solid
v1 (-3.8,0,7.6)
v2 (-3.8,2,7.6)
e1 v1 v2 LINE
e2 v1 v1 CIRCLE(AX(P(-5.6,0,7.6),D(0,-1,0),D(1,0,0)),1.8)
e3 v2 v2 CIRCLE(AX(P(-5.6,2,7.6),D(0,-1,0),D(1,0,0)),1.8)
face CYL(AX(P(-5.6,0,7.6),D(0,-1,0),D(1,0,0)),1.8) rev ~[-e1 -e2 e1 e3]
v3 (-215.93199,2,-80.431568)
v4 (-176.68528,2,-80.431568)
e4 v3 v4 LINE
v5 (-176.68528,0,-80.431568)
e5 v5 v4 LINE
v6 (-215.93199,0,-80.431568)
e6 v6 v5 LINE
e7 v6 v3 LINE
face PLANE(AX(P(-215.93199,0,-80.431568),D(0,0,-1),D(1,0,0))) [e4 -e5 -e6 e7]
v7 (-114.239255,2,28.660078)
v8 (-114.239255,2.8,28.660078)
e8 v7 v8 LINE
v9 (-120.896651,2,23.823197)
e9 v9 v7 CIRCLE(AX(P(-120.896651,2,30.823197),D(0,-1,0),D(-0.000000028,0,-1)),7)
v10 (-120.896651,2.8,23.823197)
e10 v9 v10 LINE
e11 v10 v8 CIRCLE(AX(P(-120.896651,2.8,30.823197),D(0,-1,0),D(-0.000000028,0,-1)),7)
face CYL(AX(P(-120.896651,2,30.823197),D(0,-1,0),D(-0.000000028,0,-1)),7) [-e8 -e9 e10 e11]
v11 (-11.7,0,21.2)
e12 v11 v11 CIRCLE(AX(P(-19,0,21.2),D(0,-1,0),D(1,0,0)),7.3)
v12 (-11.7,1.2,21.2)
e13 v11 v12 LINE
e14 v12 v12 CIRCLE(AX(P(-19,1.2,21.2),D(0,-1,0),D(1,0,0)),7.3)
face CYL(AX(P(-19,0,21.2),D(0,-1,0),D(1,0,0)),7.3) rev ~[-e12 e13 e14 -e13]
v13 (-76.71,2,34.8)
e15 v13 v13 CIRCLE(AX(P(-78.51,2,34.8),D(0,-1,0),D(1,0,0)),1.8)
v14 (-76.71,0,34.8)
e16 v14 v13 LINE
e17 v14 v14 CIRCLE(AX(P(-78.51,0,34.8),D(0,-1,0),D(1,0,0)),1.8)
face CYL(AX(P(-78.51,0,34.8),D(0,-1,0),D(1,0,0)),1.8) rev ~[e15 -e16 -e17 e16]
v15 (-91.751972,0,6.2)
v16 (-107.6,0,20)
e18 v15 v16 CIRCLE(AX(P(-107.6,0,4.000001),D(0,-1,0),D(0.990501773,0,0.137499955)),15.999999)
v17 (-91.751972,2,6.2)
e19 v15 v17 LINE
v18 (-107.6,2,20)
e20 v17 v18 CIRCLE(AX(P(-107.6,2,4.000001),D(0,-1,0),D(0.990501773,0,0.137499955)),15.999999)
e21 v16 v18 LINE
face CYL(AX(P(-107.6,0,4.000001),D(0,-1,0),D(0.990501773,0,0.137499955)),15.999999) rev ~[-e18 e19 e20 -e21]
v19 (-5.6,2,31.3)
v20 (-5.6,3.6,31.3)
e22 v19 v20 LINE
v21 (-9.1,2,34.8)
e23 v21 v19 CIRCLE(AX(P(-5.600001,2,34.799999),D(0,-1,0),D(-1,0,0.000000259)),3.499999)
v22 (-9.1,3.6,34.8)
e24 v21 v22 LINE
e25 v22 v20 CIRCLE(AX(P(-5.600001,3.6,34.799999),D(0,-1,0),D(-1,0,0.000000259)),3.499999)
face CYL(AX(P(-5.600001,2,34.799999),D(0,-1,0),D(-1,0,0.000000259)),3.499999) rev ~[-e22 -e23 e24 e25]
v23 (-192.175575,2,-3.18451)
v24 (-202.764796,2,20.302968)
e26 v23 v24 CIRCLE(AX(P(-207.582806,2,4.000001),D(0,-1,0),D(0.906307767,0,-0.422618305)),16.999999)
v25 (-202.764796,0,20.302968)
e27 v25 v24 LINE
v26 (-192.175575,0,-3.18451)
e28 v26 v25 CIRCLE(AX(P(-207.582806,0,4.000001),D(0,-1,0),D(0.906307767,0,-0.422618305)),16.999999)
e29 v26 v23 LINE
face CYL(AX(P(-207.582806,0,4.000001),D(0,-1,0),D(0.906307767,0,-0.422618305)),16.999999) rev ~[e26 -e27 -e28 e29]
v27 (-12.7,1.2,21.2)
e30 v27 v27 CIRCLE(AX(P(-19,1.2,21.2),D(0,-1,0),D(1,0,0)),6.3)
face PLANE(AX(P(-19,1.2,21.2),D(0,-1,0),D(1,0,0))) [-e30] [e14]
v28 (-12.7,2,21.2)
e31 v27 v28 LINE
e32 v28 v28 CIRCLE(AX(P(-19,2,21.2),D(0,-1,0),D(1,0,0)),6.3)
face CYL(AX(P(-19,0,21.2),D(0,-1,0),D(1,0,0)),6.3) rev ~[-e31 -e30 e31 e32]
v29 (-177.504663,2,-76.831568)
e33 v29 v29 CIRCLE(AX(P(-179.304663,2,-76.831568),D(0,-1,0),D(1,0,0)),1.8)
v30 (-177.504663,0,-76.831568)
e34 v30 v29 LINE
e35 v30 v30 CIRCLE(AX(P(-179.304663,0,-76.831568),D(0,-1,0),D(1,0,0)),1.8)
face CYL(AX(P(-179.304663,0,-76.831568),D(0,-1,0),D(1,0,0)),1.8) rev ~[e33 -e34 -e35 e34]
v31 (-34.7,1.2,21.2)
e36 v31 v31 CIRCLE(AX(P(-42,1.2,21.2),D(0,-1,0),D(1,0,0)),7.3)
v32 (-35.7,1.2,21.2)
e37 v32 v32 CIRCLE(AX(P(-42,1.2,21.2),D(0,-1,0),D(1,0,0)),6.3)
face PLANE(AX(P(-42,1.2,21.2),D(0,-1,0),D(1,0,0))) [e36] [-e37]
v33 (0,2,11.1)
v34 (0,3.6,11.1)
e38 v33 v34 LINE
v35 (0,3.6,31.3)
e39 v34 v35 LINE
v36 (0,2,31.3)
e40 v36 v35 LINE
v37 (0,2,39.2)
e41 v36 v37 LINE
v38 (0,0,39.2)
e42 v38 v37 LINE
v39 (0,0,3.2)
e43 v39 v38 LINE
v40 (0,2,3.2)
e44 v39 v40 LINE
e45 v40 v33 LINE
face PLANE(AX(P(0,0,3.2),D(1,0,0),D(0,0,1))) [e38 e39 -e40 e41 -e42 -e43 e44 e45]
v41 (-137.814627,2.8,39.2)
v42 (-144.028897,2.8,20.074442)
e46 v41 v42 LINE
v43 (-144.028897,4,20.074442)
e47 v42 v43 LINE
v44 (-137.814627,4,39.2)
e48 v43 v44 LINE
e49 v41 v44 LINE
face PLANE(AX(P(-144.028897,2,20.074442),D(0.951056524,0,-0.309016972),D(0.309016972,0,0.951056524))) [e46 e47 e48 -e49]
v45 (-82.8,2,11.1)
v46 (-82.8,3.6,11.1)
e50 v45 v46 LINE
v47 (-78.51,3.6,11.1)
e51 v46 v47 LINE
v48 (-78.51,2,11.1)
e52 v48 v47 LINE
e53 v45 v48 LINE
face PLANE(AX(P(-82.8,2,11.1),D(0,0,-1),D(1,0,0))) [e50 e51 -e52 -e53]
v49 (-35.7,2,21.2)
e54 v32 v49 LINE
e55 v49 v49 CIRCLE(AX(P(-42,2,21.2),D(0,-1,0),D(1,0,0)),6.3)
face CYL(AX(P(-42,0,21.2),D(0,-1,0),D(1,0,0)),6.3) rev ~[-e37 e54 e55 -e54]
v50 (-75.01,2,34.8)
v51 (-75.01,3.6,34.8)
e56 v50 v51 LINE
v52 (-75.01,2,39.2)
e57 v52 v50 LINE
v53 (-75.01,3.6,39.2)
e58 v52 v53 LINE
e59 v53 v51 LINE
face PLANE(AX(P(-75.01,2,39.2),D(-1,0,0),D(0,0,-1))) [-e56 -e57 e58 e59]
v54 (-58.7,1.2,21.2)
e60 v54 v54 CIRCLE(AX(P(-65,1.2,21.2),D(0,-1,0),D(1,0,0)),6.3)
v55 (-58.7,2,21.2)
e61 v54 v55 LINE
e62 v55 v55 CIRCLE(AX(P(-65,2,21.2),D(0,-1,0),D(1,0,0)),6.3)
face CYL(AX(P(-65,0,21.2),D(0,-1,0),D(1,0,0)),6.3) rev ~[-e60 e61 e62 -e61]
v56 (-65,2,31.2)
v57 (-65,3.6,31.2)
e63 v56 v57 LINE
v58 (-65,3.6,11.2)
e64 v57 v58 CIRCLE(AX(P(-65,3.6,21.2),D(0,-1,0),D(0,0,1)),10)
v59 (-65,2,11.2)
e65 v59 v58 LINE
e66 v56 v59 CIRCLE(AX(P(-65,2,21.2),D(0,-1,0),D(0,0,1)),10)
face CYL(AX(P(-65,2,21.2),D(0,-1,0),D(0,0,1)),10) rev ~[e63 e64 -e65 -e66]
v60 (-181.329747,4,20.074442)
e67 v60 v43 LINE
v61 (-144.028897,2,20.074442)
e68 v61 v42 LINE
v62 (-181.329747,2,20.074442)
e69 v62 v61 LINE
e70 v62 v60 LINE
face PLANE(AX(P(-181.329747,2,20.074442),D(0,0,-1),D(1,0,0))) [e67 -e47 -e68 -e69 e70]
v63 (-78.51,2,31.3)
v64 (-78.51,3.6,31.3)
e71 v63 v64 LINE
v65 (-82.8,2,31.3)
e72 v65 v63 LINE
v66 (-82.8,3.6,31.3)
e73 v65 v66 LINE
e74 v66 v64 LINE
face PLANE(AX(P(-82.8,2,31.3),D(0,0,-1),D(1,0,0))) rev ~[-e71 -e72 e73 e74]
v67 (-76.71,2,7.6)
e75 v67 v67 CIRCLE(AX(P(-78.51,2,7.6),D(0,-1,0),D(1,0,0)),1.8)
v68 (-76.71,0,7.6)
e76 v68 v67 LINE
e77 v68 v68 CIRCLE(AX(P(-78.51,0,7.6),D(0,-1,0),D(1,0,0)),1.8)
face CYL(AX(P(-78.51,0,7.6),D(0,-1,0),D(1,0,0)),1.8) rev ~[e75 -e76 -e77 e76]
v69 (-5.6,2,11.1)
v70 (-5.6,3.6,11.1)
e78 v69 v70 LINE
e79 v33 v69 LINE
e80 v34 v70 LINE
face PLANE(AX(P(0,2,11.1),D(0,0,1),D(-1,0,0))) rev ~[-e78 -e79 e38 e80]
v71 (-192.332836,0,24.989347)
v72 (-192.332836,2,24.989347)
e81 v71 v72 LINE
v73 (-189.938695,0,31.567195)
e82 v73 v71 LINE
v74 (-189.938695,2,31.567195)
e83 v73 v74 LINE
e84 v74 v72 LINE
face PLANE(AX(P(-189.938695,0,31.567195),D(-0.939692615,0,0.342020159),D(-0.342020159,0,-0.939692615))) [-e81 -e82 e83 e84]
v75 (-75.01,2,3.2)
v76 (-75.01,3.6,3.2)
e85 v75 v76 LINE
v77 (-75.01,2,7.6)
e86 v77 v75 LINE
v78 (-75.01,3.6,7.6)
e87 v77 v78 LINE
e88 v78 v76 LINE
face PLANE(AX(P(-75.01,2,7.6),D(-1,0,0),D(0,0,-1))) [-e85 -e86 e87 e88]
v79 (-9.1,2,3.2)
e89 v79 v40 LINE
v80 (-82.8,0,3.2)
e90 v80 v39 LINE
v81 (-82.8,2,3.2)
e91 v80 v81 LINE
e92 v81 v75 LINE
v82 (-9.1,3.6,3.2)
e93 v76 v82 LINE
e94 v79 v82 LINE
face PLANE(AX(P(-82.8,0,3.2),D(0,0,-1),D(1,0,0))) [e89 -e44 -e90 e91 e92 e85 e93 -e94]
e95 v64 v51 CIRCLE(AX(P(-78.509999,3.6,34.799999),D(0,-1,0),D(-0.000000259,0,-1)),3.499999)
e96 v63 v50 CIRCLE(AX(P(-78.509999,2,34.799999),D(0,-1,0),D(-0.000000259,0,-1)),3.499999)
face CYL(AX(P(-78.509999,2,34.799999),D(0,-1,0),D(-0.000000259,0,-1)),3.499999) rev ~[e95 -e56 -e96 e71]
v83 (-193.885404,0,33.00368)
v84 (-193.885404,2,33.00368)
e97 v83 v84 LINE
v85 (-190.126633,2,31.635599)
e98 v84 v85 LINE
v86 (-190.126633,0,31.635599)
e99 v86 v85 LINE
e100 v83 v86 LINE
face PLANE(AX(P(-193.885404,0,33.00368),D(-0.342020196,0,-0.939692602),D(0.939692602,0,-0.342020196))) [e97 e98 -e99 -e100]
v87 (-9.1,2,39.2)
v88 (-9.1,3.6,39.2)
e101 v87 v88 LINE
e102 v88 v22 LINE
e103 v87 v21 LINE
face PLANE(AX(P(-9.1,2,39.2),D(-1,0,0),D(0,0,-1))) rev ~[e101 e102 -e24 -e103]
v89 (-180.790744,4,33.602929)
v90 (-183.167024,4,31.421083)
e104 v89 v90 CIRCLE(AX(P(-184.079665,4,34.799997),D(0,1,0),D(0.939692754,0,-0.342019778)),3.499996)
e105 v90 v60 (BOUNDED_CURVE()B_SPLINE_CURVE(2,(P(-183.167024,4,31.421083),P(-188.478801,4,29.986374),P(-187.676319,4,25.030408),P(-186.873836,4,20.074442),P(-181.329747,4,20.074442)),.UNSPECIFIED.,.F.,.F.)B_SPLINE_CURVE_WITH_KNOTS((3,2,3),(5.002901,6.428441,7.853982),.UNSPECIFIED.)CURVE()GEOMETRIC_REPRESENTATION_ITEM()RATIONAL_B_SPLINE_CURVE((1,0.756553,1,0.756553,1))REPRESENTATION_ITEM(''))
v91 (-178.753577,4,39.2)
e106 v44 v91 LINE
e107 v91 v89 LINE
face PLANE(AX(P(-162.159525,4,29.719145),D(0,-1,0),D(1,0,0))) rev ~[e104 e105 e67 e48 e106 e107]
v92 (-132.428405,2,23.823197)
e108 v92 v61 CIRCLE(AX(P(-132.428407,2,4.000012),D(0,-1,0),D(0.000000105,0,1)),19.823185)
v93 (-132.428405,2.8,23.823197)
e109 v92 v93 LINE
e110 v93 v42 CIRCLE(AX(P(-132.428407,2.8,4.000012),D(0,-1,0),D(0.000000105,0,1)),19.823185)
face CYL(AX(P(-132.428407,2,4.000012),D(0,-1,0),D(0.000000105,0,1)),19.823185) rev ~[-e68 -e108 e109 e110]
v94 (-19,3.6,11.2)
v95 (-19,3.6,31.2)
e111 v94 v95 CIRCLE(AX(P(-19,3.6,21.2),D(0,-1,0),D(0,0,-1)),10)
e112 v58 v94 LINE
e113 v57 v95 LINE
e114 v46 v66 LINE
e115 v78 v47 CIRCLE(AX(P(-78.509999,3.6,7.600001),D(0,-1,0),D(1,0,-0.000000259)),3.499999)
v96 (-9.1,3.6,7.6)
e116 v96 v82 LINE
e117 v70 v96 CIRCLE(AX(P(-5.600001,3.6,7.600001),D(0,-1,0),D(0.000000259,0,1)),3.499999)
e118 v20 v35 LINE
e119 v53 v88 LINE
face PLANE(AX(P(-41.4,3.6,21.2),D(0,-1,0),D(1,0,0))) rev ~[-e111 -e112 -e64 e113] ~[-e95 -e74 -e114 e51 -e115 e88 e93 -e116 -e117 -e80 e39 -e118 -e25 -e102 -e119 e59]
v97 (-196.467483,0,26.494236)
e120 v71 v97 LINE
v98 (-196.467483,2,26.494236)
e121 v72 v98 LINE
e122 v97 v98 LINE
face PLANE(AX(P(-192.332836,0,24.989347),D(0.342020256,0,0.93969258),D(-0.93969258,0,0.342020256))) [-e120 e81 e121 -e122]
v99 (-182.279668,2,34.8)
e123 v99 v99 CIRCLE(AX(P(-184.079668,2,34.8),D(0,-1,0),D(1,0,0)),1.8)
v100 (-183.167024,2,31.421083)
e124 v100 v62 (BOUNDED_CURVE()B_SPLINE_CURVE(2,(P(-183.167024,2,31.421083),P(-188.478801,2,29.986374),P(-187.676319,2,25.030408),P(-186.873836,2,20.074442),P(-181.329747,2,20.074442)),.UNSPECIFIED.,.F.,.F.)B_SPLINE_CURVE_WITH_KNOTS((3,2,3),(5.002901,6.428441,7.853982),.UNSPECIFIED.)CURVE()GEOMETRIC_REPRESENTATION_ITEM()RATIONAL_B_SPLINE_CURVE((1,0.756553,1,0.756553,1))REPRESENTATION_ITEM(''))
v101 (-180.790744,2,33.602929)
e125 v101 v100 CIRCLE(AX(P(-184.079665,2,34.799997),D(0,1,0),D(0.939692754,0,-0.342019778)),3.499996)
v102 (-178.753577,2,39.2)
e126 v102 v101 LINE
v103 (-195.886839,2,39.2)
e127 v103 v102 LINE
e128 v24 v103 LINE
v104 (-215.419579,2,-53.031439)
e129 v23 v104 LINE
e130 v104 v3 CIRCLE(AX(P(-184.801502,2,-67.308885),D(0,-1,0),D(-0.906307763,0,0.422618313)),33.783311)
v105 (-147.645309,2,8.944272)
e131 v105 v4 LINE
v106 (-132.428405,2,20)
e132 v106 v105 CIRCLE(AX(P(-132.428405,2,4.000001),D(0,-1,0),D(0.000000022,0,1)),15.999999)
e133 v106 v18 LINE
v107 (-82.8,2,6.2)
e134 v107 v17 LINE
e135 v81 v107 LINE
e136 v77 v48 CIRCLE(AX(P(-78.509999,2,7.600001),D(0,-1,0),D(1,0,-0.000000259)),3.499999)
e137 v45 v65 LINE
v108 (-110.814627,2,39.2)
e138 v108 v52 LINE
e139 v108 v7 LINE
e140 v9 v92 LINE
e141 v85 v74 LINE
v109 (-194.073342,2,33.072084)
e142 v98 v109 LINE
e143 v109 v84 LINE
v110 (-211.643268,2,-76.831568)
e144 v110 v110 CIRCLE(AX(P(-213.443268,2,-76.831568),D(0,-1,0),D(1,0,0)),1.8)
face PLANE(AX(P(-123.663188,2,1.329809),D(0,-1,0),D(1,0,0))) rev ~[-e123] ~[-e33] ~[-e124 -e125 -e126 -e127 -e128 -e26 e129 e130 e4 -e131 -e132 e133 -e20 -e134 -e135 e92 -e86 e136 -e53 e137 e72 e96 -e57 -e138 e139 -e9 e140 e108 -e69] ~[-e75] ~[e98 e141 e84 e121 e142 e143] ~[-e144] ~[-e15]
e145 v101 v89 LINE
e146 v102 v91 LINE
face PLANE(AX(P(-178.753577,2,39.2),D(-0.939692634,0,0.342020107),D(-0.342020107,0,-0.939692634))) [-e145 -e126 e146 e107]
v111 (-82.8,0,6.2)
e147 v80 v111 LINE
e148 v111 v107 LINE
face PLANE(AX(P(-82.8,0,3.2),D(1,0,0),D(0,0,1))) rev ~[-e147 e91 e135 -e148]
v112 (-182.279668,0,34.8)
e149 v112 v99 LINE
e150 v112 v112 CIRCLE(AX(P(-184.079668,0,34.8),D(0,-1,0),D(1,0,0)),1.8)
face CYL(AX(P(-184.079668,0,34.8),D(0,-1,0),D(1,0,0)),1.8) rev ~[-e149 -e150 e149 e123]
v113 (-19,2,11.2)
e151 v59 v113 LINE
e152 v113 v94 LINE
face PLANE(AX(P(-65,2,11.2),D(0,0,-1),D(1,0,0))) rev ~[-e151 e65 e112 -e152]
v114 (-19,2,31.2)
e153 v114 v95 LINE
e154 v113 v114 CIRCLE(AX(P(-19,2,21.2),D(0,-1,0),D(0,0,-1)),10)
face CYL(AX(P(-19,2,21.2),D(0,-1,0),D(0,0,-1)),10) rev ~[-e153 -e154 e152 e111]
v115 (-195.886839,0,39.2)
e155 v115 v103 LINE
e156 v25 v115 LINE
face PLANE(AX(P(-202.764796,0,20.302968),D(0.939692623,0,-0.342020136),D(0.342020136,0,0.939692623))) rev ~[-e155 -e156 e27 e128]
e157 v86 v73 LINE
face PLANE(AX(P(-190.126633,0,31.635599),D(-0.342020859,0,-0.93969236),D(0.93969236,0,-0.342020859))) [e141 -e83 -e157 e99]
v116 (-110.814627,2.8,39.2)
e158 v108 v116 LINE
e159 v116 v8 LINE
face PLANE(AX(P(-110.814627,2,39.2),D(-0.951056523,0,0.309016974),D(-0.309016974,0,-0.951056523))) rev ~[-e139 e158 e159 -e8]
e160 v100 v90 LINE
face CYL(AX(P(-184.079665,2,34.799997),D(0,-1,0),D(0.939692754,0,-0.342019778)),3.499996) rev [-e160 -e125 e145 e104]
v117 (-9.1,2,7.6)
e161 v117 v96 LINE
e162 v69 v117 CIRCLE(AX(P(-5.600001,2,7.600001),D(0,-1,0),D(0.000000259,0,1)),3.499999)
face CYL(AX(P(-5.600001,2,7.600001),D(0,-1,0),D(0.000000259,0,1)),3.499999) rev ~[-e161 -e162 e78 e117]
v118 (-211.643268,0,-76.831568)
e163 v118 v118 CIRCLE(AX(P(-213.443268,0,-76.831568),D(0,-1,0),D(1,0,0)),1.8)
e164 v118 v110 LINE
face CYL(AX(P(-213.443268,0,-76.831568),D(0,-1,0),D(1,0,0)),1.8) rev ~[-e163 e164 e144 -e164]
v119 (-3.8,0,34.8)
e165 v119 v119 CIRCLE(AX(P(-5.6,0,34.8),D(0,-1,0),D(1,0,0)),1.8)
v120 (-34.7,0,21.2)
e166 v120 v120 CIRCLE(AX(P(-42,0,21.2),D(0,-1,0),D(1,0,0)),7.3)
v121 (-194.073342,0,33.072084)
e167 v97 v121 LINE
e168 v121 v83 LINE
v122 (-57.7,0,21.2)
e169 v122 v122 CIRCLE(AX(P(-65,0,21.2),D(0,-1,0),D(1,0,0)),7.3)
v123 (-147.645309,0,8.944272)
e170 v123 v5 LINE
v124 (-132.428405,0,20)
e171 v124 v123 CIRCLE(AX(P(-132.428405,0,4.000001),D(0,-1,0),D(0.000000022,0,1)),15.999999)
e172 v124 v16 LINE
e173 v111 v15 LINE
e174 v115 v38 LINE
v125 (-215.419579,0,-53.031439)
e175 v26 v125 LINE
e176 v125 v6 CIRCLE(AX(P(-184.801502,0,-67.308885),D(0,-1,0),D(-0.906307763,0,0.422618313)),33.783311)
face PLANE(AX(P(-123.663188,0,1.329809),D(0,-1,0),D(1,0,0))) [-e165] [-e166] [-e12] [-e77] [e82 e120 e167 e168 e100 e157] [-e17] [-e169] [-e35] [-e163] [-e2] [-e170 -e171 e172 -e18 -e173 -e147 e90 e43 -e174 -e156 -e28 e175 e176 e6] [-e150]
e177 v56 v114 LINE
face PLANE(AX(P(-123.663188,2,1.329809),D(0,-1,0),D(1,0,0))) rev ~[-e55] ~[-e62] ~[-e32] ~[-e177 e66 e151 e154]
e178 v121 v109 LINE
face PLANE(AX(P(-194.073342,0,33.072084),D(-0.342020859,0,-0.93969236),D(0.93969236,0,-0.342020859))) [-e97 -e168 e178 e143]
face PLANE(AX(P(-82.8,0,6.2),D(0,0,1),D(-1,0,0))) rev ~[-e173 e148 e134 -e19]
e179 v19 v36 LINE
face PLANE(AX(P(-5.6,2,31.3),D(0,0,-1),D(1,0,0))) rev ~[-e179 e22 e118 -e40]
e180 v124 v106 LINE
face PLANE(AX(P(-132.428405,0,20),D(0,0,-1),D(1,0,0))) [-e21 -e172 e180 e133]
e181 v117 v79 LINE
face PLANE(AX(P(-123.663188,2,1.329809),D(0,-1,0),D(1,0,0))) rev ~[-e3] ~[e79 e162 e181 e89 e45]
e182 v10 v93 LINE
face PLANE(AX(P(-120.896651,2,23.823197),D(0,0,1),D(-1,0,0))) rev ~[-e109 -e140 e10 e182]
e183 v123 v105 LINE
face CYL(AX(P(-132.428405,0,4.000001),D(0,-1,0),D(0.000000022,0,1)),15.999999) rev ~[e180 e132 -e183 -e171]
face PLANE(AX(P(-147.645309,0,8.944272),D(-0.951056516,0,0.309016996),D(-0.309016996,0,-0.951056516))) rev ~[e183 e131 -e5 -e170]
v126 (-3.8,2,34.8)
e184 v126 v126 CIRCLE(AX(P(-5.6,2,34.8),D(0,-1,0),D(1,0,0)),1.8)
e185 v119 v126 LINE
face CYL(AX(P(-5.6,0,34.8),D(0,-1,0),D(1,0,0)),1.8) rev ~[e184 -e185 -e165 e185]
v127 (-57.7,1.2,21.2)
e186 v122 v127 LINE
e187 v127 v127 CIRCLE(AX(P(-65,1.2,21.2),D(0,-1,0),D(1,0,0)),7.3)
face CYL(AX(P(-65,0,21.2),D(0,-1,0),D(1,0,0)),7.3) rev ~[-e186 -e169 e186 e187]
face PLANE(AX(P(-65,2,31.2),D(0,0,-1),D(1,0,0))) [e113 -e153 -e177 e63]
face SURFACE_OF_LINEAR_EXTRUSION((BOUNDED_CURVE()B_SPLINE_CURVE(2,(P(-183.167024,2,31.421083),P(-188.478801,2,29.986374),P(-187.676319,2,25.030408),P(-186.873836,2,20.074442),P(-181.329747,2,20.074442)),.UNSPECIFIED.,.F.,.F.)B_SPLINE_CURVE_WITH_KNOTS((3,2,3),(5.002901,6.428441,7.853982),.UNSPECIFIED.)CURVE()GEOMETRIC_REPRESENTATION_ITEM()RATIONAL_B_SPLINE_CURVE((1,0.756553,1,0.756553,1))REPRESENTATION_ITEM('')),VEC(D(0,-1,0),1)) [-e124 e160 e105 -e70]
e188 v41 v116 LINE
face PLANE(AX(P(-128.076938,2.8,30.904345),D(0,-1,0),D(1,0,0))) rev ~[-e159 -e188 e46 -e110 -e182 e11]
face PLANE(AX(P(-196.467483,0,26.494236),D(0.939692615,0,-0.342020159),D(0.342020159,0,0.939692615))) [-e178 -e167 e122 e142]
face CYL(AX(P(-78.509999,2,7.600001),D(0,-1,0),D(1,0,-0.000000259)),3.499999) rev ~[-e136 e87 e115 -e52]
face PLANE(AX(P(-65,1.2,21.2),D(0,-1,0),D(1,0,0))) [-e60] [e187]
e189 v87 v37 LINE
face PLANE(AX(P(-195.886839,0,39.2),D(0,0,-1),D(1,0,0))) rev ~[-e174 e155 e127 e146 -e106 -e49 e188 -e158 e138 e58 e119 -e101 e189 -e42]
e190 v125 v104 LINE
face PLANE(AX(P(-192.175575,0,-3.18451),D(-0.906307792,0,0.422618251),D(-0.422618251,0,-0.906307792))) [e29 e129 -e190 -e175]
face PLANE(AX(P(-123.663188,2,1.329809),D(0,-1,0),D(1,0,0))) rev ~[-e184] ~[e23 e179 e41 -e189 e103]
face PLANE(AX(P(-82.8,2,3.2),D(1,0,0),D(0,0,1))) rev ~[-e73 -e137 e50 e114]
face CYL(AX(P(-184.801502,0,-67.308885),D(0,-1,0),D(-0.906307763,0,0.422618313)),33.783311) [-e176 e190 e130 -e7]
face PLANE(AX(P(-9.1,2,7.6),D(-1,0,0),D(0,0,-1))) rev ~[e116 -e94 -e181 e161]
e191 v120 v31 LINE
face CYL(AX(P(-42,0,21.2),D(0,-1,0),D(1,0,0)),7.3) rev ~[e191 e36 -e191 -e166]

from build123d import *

# Parameters (mm, degrees)
EXTRUDE086_DEPTH = 0.8
EXTRUDE087_DEPTH = 2
SKETCH084_R      = 1.8
EXTRUDE084_DEPTH = 1.6
SKETCH082_W      = 82.8
SKETCH082_H      = 36
SKETCH082_R      = 1.8
EXTRUDE082_DEPTH = 1.6
SKETCH076_R      = 7.3
EXTRUDE077_DEPTH = 1.2
SKETCH074_R      = 1.8
SKETCH074_R_2    = 6.3
EXTRUDE076_DEPTH = 2


with BuildPart() as extrude_lato_sx_pistola_rialzo_centrale:
    # Sketch086 → Extrude086 (new body)
    with BuildSketch(Plane(origin=(0, 0, 2), x_dir=(1, 0, 0), z_dir=(0, -1, 0))):
        with BuildLine():
            Line((-137.814627, 37.2), (-144.028897, 18.074442))
            ThreePointArc((-132.428405, 21.823197), (-138.523989, 20.862741), (-144.028897, 18.074442))
            Line((-120.896651, 21.823197), (-132.428405, 21.823197))
            ThreePointArc((-120.896651, 21.823197), (-116.782154, 23.160078), (-114.239255, 26.660078))
            Line((-110.814627, 37.2), (-114.239255, 26.660078))
            Line((-137.814627, 37.2), (-110.814627, 37.2))
        make_face()
    extrude(amount=-EXTRUDE086_DEPTH)


with BuildPart() as extrude_lato_sx_pistola_rialzo_centrale_1:
    # Extrude086 placement: moved
    add(extrude_lato_sx_pistola_rialzo_centrale.part.moved(Location((0, 2, 0))))


with BuildPart() as extrude087:
    # Sketch087 → Extrude087 (new body)
    with BuildSketch(Plane.XZ):
        with BuildLine():
            add(Edge.make_bspline(
                [(-183.167024, 31.421083), (-188.478801, 29.986374), (-187.676319, 25.030408), (-186.873836, 20.074442), (-181.329747, 20.074442)],
                knots=[5.002901, 5.002901, 5.002901, 6.428441, 6.428441, 7.853982, 7.853982, 7.853982], degree=2, weights=[1, 0.756553, 1, 0.756553, 1]))
            Line((-181.329747, 20.074442), (-144.028897, 20.074442))
            Line((-144.028897, 20.074442), (-137.814627, 39.2))
            Line((-137.814627, 39.2), (-178.753577, 39.2))
            Line((-178.753577, 39.2), (-180.790744, 33.602929))
            ThreePointArc((-180.790744, 33.602929), (-181.712516, 32.221901), (-183.167024, 31.421083))
        make_face()
    extrude(amount=-EXTRUDE087_DEPTH)


with BuildPart() as extrude087_1:
    # Extrude087 placement: moved
    add(extrude087.part.moved(Location((0, 2, 0))))


with BuildPart() as extrude084:
    # Sketch084 → Extrude084 (new body)
    with BuildSketch(Plane.XZ):
        with BuildLine():
            ThreePointArc((-78.51, 31.3), (-76.035126, 32.325126), (-75.01, 34.8))
            Line((-75.01, 39.2), (-75.01, 34.8))
            Line((-82.8, 39.2), (-75.01, 39.2))
            Line((-82.8, 31.3), (-82.8, 39.2))
            Line((-82.8, 31.3), (-78.51, 31.3))
        make_face()
        with Locations((-78.51, 34.8)):
            Circle(SKETCH084_R, mode=Mode.SUBTRACT)
        with BuildLine():
            ThreePointArc((-9.1, 34.8), (-8.074874, 32.325126), (-5.6, 31.3))
            Line((-5.6, 31.3), (0, 31.3))
            Line((0, 39.2), (0, 31.3))
            Line((-9.1, 39.2), (0, 39.2))
            Line((-9.1, 39.2), (-9.1, 34.8))
        make_face()
        with Locations((-5.6, 34.8)):
            Circle(SKETCH084_R, mode=Mode.SUBTRACT)
        with BuildLine():
            ThreePointArc((-75.01, 7.6), (-76.035126, 10.074874), (-78.51, 11.1))
            Line((-82.8, 11.1), (-78.51, 11.1))
            Line((-82.8, 3.2), (-82.8, 11.1))
            Line((-75.01, 3.2), (-82.8, 3.2))
            Line((-75.01, 7.6), (-75.01, 3.2))
        make_face()
        with Locations((-78.51, 7.6)):
            Circle(SKETCH084_R, mode=Mode.SUBTRACT)
        with BuildLine():
            ThreePointArc((-5.6, 11.1), (-8.074874, 10.074874), (-9.1, 7.6))
            Line((-9.1, 7.6), (-9.1, 3.2))
            Line((0, 3.2), (-9.1, 3.2))
            Line((0, 11.1), (0, 3.2))
            Line((0, 11.1), (-5.6, 11.1))
        make_face()
        with Locations((-5.6, 7.6)):
            Circle(SKETCH084_R, mode=Mode.SUBTRACT)
    extrude(amount=-EXTRUDE084_DEPTH)


with BuildPart() as extrude084_1:
    # Extrude084 placement: moved
    add(extrude084.part.moved(Location((0, 2, 0))))


with BuildPart() as cut047:
    # Sketch082 → Extrude082 (new body)
    with BuildSketch(Plane.XZ):
        with Locations((-41.4, 21.2)):
            Rectangle(SKETCH082_W, SKETCH082_H)
        with Locations((-78.51, 34.8)):
            Circle(SKETCH082_R, mode=Mode.SUBTRACT)
        with Locations((-5.6, 34.8)):
            Circle(SKETCH082_R, mode=Mode.SUBTRACT)
        with Locations((-5.6, 7.6)):
            Circle(SKETCH082_R, mode=Mode.SUBTRACT)
        with Locations((-78.51, 7.6)):
            Circle(SKETCH082_R, mode=Mode.SUBTRACT)
        with BuildLine():
            ThreePointArc((-65, 31.2), (-75, 21.2), (-65, 11.2))
            Line((-65, 11.2), (-19, 11.2))
            ThreePointArc((-19, 11.2), (-9, 21.2), (-19, 31.2))
            Line((-65, 31.2), (-19, 31.2))
        make_face(mode=Mode.SUBTRACT)
    extrude(amount=-EXTRUDE082_DEPTH)


with BuildPart() as cut047_1:
    # Extrude082 placement: moved
    add(cut047.part.moved(Location((0, 2, 0))))

    # Cut047: cut Extrude084
    add(extrude084_1.part, mode=Mode.SUBTRACT)


with BuildPart() as extrude_lato_sx_pistola_scavi_pulsanti:
    # Sketch076 → Extrude077 (new body)
    with BuildSketch(Plane.XZ):
        with Locations((-65, 21.2)):
            Circle(SKETCH076_R)
        with Locations((-42, 21.2)):
            Circle(SKETCH076_R)
        with Locations((-19, 21.2)):
            Circle(SKETCH076_R)
    extrude(amount=-EXTRUDE077_DEPTH)


with BuildPart() as fusion007:
    # Sketch074 → Extrude076 (new body)
    with BuildSketch(Plane.XZ):
        with BuildLine():
            Line((-82.8, 3.2), (0, 3.2))
            Line((0, 3.2), (0, 39.2))
            Line((-195.886839, 39.2), (0, 39.2))
            Line((-202.764796, 20.302968), (-195.886839, 39.2))
            ThreePointArc((-192.175575, -3.18451), (-192.085048, 10.987093), (-202.764796, 20.302968))
            Line((-192.175575, -3.18451), (-215.419579, -53.031439))
            ThreePointArc((-215.419579, -53.031439), (-218.578907, -66.677212), (-215.93199, -80.431568))
            Line((-215.93199, -80.431568), (-176.68528, -80.431568))
            Line((-147.645309, 8.944272), (-176.68528, -80.431568))
            ThreePointArc((-132.428405, 20), (-141.832969, 16.944272), (-147.645309, 8.944272))
            Line((-132.428405, 20), (-107.6, 20))
            ThreePointArc((-91.751972, 6.2), (-97.09286, 16.066483), (-107.6, 20))
            Line((-82.8, 6.2), (-91.751972, 6.2))
            Line((-82.8, 3.2), (-82.8, 6.2))
        make_face()
        with Locations((-213.443268, -76.831568)):
            Circle(SKETCH074_R, mode=Mode.SUBTRACT)
        with Locations((-179.304663, -76.831568)):
            Circle(SKETCH074_R, mode=Mode.SUBTRACT)
        with Locations((-184.079668, 34.8)):
            Circle(SKETCH074_R, mode=Mode.SUBTRACT)
        with Locations((-78.51, 34.8)):
            Circle(SKETCH074_R, mode=Mode.SUBTRACT)
        with Locations((-78.51, 7.6)):
            Circle(SKETCH074_R, mode=Mode.SUBTRACT)
        with Locations((-5.6, 34.8)):
            Circle(SKETCH074_R, mode=Mode.SUBTRACT)
        with Locations((-5.6, 7.6)):
            Circle(SKETCH074_R, mode=Mode.SUBTRACT)
        with Locations((-19, 21.2)):
            Circle(SKETCH074_R_2, mode=Mode.SUBTRACT)
        with Locations((-42, 21.2)):
            Circle(SKETCH074_R_2, mode=Mode.SUBTRACT)
        with Locations((-65, 21.2)):
            Circle(SKETCH074_R_2, mode=Mode.SUBTRACT)
        Polygon((-189.938695, 31.567195), (-192.332836, 24.989347), (-196.467483, 26.494236), (-194.073342, 33.072084), (-193.885404, 33.00368), (-190.126633, 31.635599), align=None, mode=Mode.SUBTRACT)
    extrude(amount=-EXTRUDE076_DEPTH)

    # Cut044: cut Extrude lato sx pistola - scavi pulsanti
    add(extrude_lato_sx_pistola_scavi_pulsanti.part, mode=Mode.SUBTRACT)

    # Fusion005: union Cut047
    add(cut047_1.part)

    # Fusion007: union Extrude lato sx pistola - rialzo centrale, Extrude087
    add(extrude_lato_sx_pistola_rialzo_centrale_1.part)
    add(extrude087_1.part)


solid = fusion007.part
